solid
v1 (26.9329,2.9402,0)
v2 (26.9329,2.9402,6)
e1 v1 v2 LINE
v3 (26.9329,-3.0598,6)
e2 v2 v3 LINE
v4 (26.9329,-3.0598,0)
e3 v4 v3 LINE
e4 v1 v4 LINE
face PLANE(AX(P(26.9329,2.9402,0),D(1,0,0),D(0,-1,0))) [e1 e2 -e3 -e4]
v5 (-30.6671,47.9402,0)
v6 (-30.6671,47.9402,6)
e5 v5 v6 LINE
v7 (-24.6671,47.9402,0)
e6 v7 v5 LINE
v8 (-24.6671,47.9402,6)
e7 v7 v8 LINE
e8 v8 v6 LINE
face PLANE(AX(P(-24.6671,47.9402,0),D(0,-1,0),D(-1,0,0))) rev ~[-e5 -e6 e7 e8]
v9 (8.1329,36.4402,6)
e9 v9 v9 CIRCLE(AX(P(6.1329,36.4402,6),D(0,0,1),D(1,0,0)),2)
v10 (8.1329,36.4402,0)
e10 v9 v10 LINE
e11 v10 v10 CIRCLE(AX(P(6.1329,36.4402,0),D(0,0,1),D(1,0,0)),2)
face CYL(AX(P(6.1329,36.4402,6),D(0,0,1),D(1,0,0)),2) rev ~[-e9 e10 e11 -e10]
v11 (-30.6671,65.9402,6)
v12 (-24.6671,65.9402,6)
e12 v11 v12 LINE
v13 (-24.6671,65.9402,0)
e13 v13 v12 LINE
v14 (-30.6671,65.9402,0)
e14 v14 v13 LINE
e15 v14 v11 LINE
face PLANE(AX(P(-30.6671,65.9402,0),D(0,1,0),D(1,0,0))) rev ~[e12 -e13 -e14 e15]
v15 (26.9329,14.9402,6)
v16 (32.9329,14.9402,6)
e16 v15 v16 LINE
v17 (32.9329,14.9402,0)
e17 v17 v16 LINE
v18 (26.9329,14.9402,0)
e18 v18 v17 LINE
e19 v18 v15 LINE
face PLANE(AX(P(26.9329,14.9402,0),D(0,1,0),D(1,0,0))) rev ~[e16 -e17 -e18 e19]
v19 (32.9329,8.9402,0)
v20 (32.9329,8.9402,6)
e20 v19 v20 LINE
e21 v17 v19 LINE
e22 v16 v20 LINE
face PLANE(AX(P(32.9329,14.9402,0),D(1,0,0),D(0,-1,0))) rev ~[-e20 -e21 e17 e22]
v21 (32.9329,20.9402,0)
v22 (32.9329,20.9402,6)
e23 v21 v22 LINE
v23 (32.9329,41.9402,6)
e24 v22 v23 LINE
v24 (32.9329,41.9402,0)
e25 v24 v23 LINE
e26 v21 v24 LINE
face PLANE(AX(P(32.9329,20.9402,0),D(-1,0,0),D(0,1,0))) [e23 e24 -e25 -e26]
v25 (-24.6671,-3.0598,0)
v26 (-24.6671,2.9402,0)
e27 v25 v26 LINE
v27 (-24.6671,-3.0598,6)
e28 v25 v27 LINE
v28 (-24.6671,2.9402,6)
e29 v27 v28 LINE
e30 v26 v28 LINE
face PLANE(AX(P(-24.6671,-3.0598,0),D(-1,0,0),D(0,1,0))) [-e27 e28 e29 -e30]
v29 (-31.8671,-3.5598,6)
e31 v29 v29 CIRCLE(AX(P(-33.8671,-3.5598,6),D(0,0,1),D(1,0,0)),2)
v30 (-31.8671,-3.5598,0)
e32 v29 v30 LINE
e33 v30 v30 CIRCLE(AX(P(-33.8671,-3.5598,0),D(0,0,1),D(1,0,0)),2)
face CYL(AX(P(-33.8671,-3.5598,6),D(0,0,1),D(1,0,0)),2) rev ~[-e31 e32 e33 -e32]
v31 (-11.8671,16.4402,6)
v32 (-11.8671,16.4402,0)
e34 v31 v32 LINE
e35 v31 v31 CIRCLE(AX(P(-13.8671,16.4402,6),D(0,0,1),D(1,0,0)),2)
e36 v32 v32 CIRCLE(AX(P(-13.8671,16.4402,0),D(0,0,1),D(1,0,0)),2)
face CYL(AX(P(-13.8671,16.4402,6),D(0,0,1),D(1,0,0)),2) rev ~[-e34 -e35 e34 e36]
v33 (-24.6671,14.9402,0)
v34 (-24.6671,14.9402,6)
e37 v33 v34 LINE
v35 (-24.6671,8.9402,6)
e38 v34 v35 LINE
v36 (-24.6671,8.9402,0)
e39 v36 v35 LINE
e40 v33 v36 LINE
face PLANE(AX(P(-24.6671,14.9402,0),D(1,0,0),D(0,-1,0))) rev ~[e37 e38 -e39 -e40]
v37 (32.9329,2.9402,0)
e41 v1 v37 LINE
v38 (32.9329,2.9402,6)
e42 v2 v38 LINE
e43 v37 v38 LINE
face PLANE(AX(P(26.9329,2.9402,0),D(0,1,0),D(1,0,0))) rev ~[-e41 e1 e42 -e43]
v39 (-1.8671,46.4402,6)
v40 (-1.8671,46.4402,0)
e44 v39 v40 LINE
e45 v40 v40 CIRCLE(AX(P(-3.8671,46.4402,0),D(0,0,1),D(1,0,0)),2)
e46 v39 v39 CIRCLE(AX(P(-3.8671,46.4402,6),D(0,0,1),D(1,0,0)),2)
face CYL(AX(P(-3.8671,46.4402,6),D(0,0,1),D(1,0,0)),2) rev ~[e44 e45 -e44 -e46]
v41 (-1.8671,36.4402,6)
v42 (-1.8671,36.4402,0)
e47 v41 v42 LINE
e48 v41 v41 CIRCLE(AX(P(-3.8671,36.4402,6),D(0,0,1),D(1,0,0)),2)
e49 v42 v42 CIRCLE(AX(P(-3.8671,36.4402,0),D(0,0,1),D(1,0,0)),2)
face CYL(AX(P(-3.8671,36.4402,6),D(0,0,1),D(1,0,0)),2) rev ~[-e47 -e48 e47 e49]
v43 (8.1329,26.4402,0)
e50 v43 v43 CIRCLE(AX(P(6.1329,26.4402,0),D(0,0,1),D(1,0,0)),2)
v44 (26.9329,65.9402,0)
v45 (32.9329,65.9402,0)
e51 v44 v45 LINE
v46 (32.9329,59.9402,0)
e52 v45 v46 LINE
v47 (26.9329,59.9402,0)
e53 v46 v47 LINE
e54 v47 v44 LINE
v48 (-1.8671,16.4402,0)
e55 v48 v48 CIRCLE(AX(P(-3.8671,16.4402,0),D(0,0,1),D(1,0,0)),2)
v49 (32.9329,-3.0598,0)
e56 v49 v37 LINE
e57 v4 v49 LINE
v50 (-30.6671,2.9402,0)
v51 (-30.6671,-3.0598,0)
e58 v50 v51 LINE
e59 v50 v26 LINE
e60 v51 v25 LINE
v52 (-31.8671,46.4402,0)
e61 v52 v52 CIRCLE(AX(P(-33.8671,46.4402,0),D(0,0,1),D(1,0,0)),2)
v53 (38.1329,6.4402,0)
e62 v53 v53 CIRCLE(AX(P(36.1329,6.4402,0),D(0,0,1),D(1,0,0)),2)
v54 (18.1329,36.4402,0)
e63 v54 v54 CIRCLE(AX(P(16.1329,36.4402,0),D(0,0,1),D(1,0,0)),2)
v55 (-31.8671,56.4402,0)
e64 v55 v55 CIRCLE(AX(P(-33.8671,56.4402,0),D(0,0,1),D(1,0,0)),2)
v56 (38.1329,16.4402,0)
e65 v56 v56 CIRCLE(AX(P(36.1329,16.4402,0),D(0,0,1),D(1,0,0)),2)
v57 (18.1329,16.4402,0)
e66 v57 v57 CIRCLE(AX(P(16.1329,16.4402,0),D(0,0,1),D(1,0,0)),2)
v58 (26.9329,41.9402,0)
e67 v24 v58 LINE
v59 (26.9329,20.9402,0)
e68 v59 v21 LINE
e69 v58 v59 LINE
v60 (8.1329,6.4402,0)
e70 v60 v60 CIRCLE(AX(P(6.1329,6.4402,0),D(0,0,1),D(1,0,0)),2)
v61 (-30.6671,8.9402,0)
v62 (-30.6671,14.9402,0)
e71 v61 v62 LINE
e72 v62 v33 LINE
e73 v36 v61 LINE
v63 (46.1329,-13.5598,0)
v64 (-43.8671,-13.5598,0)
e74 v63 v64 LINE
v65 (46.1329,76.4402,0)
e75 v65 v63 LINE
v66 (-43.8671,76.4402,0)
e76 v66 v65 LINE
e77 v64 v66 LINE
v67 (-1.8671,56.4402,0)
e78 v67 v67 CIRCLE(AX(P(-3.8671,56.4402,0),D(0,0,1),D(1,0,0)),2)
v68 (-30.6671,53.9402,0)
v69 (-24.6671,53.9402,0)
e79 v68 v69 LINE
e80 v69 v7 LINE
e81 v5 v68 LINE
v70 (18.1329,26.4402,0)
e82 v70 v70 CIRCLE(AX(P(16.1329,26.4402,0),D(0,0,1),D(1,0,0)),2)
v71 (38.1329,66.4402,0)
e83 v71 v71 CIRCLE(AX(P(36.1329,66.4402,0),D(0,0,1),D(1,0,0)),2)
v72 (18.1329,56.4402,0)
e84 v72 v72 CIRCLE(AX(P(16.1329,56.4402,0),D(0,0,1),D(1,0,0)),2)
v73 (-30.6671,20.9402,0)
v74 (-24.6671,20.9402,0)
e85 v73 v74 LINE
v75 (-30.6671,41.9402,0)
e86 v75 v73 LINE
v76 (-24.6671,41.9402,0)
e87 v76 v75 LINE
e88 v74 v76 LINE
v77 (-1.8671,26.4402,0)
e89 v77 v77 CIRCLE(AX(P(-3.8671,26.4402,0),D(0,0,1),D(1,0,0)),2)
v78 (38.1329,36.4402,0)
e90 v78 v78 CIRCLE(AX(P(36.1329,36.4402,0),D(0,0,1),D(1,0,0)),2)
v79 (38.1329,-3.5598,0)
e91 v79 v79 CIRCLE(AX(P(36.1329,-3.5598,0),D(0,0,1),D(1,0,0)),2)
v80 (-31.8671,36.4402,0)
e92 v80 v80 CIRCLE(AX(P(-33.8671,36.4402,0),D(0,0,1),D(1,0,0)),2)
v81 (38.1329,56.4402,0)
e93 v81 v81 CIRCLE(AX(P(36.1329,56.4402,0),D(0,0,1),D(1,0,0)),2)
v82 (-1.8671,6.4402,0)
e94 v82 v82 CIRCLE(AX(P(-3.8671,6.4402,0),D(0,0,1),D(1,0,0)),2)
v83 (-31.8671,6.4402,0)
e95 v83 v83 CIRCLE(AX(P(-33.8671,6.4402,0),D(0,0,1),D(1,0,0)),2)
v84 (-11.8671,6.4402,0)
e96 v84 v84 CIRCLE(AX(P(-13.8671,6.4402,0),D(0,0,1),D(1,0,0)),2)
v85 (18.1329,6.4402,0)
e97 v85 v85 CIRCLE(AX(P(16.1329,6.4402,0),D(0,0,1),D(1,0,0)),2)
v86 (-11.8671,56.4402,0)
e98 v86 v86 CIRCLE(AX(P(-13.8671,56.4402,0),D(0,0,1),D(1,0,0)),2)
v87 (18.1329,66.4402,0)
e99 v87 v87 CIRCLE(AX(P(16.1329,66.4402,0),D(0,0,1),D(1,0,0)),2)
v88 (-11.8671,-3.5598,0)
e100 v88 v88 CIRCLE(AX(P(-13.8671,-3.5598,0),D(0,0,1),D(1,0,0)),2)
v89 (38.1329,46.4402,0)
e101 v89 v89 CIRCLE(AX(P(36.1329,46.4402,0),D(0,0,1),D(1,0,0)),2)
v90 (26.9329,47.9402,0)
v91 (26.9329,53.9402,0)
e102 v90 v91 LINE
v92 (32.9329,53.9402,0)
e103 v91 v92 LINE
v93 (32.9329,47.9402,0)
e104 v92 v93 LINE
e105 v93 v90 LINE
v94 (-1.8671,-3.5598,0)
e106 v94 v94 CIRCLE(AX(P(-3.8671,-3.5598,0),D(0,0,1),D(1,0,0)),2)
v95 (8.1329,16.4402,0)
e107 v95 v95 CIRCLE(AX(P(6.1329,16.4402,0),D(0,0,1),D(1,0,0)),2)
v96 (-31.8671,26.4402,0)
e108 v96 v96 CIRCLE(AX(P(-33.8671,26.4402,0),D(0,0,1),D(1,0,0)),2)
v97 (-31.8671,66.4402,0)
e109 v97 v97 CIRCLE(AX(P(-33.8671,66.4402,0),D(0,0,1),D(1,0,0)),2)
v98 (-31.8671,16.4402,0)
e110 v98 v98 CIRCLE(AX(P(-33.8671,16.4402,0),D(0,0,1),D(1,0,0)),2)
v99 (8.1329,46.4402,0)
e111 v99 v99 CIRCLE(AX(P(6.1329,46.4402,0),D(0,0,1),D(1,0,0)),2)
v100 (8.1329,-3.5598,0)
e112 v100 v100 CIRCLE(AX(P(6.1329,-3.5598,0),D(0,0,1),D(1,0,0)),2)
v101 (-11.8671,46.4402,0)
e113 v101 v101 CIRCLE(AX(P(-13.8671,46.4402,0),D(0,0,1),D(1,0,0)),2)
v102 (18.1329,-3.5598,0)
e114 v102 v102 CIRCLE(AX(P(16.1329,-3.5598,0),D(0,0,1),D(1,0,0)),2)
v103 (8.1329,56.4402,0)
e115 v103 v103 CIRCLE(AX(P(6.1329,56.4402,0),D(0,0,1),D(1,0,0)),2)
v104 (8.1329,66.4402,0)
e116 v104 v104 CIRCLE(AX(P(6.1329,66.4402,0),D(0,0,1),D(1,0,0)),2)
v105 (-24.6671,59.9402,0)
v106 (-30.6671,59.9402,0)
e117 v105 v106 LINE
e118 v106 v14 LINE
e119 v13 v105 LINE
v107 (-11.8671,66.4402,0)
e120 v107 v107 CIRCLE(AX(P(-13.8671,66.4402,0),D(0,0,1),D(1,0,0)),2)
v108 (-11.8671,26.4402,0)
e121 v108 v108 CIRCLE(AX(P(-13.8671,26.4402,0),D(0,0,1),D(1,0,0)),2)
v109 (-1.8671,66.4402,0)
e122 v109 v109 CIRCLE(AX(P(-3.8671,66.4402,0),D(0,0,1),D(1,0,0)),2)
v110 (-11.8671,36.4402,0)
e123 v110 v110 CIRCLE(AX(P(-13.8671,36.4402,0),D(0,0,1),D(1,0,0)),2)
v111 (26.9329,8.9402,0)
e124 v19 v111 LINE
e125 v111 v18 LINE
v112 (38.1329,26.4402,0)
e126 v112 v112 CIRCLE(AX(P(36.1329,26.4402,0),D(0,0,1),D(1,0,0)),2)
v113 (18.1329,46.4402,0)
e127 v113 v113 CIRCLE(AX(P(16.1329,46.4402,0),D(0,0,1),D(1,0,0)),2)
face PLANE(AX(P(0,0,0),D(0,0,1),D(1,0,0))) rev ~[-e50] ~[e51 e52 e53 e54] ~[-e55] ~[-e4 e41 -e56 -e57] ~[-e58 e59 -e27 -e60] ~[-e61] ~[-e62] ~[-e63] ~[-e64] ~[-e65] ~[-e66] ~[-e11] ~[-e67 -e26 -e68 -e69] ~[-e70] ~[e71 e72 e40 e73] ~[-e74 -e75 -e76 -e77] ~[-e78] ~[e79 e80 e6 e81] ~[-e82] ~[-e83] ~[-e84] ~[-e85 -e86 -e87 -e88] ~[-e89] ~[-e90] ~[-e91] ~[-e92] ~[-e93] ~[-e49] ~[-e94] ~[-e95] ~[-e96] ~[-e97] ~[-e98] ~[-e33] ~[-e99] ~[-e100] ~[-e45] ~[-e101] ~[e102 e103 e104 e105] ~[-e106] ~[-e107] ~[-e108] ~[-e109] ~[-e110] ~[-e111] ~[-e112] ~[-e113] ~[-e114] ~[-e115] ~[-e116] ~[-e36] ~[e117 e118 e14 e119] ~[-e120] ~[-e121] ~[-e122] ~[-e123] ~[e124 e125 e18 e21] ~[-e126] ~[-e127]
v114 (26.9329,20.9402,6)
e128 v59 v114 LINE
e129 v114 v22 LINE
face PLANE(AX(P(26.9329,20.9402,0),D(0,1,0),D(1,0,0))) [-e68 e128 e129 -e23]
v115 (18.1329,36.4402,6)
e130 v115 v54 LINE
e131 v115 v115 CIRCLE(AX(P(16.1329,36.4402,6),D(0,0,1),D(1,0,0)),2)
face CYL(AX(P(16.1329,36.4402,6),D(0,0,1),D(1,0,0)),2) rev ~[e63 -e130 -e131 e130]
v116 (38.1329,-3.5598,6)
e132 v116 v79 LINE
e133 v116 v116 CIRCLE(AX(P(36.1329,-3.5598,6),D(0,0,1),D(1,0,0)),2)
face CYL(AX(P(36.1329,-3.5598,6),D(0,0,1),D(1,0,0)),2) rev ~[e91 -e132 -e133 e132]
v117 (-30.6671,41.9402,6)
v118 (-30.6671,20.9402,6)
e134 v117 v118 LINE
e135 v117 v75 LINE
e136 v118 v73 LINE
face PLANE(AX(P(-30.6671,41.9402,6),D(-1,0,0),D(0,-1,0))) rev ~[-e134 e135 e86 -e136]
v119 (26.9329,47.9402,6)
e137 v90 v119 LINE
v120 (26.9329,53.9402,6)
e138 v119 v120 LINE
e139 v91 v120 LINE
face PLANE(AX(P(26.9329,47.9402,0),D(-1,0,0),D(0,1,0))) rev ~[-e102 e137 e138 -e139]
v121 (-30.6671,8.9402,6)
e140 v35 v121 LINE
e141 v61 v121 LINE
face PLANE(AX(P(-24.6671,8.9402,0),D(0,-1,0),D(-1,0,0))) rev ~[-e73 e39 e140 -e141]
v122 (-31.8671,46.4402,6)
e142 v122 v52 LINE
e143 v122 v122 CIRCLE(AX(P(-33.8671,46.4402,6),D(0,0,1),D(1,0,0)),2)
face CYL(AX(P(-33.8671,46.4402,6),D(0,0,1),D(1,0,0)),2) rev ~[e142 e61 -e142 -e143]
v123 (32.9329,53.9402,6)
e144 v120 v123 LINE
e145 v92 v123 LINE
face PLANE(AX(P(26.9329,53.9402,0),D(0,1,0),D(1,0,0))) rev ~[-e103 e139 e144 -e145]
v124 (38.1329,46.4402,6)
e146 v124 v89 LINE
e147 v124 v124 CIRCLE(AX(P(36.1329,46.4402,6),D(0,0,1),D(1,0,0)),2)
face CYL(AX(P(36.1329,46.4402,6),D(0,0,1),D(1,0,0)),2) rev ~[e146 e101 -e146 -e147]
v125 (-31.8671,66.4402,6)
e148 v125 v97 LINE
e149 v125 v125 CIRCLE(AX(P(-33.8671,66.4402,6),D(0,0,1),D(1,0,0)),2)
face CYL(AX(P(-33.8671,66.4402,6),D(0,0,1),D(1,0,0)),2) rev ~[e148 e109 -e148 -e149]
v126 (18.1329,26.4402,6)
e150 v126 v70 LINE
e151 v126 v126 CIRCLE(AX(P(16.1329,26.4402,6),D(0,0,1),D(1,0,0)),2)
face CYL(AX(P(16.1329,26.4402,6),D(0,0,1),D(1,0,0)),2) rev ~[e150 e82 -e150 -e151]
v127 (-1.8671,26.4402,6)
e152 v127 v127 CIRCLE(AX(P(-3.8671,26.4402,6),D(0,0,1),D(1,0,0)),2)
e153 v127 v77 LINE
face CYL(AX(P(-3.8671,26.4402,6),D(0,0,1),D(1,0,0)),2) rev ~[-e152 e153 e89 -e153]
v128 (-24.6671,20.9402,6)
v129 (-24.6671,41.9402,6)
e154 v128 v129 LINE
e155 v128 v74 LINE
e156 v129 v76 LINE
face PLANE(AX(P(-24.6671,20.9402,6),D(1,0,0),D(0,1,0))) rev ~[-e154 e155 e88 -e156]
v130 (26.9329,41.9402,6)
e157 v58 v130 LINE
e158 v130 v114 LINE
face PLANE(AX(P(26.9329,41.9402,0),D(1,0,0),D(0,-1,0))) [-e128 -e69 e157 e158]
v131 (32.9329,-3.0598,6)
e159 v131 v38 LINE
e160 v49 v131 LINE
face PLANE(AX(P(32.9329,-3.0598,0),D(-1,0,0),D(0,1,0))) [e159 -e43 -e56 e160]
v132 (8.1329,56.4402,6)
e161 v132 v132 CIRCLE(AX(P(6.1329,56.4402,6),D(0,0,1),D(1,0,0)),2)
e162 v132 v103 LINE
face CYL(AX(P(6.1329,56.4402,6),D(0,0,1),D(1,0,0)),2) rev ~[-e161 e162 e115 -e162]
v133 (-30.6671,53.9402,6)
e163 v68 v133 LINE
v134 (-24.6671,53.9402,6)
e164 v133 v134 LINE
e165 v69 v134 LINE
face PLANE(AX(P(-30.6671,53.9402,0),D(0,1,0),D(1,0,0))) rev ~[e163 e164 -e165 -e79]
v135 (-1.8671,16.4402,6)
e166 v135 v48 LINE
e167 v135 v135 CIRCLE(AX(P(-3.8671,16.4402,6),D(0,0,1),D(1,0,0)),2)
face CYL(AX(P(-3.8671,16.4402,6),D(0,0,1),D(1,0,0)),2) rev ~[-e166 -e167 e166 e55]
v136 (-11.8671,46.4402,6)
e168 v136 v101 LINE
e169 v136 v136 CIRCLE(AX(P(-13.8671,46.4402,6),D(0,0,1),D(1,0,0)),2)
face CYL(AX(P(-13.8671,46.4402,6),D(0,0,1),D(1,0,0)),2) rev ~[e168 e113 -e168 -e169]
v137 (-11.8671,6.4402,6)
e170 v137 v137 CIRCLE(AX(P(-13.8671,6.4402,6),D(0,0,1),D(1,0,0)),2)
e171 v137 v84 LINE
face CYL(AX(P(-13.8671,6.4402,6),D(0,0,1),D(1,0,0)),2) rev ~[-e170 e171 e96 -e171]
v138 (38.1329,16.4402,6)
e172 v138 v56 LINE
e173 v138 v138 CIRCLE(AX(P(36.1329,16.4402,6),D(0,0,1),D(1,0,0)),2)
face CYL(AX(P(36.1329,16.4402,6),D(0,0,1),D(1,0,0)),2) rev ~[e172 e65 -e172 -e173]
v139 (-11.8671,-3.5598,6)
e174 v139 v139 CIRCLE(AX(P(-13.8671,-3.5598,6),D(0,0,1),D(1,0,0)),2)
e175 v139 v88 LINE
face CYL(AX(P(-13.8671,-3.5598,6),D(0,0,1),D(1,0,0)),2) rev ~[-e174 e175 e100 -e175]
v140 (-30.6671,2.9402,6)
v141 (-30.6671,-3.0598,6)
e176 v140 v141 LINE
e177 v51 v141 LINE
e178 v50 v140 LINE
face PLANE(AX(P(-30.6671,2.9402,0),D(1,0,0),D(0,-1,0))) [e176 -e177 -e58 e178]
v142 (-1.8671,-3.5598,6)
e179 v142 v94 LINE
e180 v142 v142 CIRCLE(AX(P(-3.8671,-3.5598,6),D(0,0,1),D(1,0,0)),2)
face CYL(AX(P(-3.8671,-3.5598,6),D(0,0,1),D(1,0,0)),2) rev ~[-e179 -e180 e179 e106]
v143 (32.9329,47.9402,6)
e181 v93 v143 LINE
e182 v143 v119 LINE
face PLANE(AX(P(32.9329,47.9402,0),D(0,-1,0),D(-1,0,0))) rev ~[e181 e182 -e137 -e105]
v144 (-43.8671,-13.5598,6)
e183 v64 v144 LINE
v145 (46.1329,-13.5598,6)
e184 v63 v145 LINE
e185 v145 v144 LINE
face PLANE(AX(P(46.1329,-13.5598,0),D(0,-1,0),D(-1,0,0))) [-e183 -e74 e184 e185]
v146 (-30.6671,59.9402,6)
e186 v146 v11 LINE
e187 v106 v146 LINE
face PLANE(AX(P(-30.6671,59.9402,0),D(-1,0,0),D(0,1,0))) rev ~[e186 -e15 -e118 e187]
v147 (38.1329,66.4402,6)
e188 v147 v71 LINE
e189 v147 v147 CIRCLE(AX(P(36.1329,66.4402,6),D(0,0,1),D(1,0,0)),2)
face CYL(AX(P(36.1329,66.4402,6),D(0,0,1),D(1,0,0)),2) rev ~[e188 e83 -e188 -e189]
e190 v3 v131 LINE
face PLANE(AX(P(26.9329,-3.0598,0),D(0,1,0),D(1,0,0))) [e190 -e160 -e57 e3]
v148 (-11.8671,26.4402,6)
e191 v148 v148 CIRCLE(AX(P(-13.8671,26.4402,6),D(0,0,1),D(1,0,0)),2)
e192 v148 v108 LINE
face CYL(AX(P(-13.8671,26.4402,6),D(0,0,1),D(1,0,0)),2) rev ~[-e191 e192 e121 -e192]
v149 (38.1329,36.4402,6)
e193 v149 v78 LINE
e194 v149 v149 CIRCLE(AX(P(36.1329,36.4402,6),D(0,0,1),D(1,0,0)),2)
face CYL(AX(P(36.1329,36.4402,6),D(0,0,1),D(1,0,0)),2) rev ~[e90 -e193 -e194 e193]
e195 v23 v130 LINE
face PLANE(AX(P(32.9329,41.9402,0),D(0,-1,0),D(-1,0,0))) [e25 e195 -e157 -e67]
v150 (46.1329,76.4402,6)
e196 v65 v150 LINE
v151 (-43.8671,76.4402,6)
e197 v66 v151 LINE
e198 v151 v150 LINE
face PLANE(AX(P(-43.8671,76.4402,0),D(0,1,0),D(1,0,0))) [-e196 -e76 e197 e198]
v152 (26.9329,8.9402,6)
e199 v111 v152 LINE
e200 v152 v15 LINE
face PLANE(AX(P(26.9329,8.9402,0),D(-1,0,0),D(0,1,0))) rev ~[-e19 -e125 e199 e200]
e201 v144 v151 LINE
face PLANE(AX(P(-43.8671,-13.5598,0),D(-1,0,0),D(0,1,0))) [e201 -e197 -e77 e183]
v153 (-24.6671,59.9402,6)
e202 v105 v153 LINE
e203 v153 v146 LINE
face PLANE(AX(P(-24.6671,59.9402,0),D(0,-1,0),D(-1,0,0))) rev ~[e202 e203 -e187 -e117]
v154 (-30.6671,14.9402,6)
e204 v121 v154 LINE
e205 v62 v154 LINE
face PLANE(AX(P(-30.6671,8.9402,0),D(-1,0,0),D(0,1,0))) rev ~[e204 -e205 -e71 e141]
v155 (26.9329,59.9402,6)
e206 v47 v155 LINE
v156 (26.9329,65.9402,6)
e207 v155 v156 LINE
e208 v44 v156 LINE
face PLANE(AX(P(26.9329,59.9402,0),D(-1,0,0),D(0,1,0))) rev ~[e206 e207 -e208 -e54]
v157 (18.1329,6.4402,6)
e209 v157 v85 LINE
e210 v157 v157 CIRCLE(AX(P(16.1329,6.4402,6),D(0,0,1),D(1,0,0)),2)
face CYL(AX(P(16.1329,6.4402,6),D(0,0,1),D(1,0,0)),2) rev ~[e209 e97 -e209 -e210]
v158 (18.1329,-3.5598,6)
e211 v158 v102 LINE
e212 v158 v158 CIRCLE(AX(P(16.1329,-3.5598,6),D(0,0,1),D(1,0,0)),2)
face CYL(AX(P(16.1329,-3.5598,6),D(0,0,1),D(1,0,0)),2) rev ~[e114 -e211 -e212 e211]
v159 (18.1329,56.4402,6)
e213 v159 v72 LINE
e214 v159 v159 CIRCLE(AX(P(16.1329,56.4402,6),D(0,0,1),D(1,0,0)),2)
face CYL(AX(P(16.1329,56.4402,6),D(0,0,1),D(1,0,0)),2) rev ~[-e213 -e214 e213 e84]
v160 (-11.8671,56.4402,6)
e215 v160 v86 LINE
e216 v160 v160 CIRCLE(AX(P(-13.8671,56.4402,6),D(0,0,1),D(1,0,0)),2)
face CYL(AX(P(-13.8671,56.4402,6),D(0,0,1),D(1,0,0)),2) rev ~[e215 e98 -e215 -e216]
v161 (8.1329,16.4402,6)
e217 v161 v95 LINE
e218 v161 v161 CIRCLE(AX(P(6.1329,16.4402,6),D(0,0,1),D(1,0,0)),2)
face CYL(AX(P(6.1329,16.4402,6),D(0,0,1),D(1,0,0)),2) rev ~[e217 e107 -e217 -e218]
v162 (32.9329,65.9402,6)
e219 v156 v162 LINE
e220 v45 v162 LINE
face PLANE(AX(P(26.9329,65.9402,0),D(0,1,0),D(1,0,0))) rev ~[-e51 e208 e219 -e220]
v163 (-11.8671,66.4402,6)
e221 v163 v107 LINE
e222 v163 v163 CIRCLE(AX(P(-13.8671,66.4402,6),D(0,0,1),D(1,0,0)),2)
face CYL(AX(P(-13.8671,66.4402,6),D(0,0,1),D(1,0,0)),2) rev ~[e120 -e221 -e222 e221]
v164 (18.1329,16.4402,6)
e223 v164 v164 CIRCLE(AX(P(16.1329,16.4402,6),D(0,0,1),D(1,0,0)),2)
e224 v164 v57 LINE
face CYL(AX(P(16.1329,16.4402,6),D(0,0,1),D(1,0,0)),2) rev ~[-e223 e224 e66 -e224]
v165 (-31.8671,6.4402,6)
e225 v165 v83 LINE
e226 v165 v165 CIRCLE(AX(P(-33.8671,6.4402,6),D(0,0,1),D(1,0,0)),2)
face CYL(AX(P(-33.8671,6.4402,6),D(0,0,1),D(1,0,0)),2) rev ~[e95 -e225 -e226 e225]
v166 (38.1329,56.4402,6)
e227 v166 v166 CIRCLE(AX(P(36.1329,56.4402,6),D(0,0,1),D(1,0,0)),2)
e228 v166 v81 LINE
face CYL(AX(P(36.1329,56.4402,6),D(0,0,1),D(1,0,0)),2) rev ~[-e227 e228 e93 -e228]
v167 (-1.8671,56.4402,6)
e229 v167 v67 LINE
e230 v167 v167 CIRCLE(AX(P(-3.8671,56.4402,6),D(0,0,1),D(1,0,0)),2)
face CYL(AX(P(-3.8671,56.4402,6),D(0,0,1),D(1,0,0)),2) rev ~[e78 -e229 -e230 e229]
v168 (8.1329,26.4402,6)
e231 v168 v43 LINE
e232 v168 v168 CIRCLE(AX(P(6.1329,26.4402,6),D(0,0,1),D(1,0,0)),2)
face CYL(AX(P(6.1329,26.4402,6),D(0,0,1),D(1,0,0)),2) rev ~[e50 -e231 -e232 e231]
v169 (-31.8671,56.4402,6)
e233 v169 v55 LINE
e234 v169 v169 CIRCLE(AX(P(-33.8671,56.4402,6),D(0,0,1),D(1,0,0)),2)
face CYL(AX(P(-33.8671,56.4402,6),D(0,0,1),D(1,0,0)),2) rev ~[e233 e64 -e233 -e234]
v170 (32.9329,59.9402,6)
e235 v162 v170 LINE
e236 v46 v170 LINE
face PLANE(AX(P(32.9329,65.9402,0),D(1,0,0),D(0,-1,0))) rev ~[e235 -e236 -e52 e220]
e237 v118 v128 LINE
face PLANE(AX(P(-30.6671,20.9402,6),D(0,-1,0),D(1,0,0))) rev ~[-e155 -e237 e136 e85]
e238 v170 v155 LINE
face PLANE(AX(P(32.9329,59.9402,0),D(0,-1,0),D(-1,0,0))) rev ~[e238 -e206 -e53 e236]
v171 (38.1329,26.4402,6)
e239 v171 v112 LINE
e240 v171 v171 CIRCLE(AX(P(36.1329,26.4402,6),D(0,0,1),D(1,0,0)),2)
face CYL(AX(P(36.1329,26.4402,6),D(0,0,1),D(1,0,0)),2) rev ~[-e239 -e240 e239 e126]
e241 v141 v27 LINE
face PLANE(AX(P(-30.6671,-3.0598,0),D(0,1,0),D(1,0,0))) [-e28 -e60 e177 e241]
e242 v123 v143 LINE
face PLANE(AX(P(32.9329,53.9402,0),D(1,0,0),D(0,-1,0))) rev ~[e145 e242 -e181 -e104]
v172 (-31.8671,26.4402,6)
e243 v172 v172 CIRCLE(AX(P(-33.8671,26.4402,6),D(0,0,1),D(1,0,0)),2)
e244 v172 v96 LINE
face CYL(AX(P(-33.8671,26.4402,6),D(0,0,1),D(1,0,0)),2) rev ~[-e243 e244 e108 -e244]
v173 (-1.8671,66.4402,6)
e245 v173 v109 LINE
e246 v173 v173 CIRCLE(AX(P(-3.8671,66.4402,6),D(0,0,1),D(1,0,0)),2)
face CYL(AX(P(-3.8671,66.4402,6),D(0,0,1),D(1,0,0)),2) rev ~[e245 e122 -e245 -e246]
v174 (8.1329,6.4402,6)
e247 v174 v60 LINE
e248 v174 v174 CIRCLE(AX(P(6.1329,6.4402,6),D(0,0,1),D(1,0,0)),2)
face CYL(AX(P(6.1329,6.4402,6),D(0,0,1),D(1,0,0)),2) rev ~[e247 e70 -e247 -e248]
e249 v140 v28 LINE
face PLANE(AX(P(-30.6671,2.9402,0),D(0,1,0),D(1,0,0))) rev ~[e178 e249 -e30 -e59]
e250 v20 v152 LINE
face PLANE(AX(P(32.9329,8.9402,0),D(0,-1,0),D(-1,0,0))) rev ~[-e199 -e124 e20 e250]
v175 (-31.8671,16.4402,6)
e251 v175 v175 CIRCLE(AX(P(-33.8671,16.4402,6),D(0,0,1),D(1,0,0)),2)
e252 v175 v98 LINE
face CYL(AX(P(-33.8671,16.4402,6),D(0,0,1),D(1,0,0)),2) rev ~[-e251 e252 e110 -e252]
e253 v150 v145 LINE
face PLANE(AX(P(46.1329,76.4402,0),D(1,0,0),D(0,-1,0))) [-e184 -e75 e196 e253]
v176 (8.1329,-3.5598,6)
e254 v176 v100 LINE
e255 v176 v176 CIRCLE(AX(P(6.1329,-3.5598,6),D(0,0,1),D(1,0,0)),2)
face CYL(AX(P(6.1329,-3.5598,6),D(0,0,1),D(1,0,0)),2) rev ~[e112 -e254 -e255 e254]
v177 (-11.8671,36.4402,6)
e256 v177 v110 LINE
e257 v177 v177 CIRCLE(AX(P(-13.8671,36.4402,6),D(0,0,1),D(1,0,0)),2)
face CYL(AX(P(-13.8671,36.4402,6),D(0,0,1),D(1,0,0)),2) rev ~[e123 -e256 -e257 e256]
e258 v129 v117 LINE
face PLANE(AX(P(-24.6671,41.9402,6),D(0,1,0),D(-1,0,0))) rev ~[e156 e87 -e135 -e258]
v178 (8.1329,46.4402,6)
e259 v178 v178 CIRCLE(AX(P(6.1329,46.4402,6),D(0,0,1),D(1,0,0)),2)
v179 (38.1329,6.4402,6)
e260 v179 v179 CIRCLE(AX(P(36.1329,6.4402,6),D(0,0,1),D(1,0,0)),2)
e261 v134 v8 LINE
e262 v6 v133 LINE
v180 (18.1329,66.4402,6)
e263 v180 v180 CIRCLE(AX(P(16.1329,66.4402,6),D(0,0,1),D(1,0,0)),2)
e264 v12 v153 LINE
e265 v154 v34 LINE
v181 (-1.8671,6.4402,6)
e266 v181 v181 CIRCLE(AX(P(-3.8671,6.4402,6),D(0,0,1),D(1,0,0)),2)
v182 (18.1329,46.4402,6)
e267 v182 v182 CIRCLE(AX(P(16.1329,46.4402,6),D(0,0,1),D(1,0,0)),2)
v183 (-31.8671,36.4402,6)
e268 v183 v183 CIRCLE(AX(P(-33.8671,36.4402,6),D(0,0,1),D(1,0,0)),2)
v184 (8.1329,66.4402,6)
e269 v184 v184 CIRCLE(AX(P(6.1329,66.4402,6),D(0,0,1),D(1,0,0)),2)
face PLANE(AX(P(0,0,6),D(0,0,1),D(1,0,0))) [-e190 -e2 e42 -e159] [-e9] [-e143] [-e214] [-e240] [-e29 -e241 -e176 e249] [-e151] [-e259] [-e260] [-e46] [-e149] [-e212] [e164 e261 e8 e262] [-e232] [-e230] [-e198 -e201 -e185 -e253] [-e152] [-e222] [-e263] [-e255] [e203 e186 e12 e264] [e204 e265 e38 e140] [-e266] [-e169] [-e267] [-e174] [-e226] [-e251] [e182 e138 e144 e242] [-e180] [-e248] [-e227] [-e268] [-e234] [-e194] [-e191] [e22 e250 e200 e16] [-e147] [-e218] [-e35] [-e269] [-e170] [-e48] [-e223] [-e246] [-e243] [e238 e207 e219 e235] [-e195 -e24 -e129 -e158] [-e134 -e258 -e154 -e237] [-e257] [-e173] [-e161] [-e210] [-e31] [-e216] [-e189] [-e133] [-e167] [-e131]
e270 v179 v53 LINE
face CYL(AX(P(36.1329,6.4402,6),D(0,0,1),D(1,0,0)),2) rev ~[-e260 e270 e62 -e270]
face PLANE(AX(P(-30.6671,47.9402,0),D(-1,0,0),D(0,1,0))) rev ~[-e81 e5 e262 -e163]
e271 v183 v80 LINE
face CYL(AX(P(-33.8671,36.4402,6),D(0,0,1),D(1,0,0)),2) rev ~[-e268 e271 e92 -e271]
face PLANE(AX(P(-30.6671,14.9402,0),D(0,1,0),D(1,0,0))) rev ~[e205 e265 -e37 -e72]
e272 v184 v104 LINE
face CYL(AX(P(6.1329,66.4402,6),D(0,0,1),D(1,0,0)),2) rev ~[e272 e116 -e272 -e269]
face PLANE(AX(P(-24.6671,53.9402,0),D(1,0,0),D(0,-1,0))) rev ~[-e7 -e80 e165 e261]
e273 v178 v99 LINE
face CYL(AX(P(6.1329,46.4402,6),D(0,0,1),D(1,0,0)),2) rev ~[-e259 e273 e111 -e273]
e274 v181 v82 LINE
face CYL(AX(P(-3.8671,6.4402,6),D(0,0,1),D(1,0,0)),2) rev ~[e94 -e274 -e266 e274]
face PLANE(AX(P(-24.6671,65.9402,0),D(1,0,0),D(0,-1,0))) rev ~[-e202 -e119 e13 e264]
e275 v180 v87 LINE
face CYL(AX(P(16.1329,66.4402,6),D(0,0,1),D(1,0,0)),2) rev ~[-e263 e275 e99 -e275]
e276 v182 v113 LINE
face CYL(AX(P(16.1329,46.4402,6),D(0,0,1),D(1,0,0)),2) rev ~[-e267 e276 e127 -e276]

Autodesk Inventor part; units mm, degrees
ref_plane "YZ Plane" through (0, 0, 0) normal (1, 0, 0) x (0, 1, 0)
ref_plane "XZ Plane" through (0, 0, 0) normal (0, 1, 0) x (-1, 0, 0)
ref_plane "XY Plane" through (0, 0, 0) normal (0, 0, 1) x (1, 0, 0)
sketch "Sketch1" plane through (0, 0, 0) normal (0, 0, 1) x (1, 0, 0)
  line L0 (-43.8671, 76.4402) -> (46.1329, 76.4402)
  line L1 (46.1329, 76.4402) -> (46.1329, -13.5598)
  line L2 (46.1329, -13.5598) -> (-43.8671, -13.5598)
  line L3 (-43.8671, -13.5598) -> (-43.8671, 76.4402)
  point P0 (0, 0)
  dimension "d0" = 90
  dimension "d1" = 90
extrude "Extrusion1" add sketch "Sketch1" along normal blind 6
sketch "Sketch2" plane through (0, 0, 0) normal (0, 0, -1) x (-1, 0, 0)
  line L0 (24.6671, 8.9402) -> (30.6671, 8.9402) projected
  line L1 (30.6671, 8.9402) -> (30.6671, 2.9402) projected
  line L2 (30.6671, 2.9402) -> (24.6671, 2.9402) projected
  line L3 (24.6671, 8.9402) -> (24.6671, 2.9402) projected
  line L4 (30.6671, 14.9402) -> (24.6671, 14.9402) projected
  line L5 (24.6671, 20.9402) -> (24.6671, 14.9402) projected
  line L6 (30.6671, 20.9402) -> (24.6671, 20.9402) projected
  line L7 (30.6671, 20.9402) -> (30.6671, 14.9402) projected
  line L8 (24.6671, 47.9402) -> (30.6671, 47.9402) projected
  line L9 (30.6671, 41.9402) -> (30.6671, 47.9402) projected
  line L10 (24.6671, 41.9402) -> (30.6671, 41.9402) projected
  line L11 (24.6671, 41.9402) -> (24.6671, 47.9402) projected
  line L12 (24.6671, 59.9402) -> (30.6671, 59.9402) projected
  line L13 (30.6671, 53.9402) -> (30.6671, 59.9402) projected
  line L14 (30.6671, 53.9402) -> (24.6671, 53.9402) projected
  line L15 (24.6671, 53.9402) -> (24.6671, 59.9402) projected
  line L16 (-32.9329, 47.9402) -> (-26.9329, 47.9402) projected
  line L17 (-26.9329, 41.9402) -> (-26.9329, 47.9402) projected
  line L18 (-32.9329, 41.9402) -> (-26.9329, 41.9402) projected
  line L19 (-32.9329, 41.9402) -> (-32.9329, 47.9402) projected
  line L20 (-32.9329, 59.9402) -> (-26.9329, 59.9402) projected
  line L21 (-26.9329, 53.9402) -> (-26.9329, 59.9402) projected
  line L22 (-26.9329, 53.9402) -> (-32.9329, 53.9402) projected
  line L23 (-32.9329, 53.9402) -> (-32.9329, 59.9402) projected
  line L24 (-26.9329, 14.9402) -> (-32.9329, 14.9402) projected
  line L25 (-32.9329, 20.9402) -> (-32.9329, 14.9402) projected
  line L26 (-26.9329, 20.9402) -> (-32.9329, 20.9402) projected
  line L27 (-26.9329, 20.9402) -> (-26.9329, 14.9402) projected
  line L28 (-32.9329, 8.9402) -> (-26.9329, 8.9402) projected
  line L29 (-26.9329, 8.9402) -> (-26.9329, 2.9402) projected
  line L30 (-26.9329, 2.9402) -> (-32.9329, 2.9402) projected
  line L31 (-32.9329, 8.9402) -> (-32.9329, 2.9402) projected
  line L32 (-32.9329, 8.9402) -> (-26.9329, 8.9402)
  line L33 (-26.9329, 8.9402) -> (-26.9329, 14.9402)
  line L34 (-26.9329, 14.9402) -> (-32.9329, 14.9402)
  line L35 (-32.9329, 14.9402) -> (-32.9329, 8.9402)
  line L36 (-32.9329, 2.9402) -> (-26.9329, 2.9402)
  line L37 (-26.9329, 2.9402) -> (-26.9329, -3.0598)
  line L38 (-26.9329, -3.0598) -> (-32.9329, -3.0598)
  line L39 (-32.9329, -3.0598) -> (-32.9329, 2.9402)
  line L40 (-32.9329, 47.9402) -> (-26.9329, 47.9402)
  line L41 (-26.9329, 47.9402) -> (-26.9329, 53.9402)
  line L42 (-26.9329, 53.9402) -> (-32.9329, 53.9402)
  line L43 (-32.9329, 53.9402) -> (-32.9329, 47.9402)
  line L44 (-32.9329, 59.9402) -> (-26.9329, 59.9402)
  line L45 (-26.9329, 59.9402) -> (-26.9329, 65.9402)
  line L46 (-26.9329, 65.9402) -> (-32.9329, 65.9402)
  line L47 (-32.9329, 65.9402) -> (-32.9329, 59.9402)
  line L48 (24.6671, 47.9402) -> (30.6671, 47.9402)
  line L49 (30.6671, 47.9402) -> (30.6671, 53.9402)
  line L50 (30.6671, 53.9402) -> (24.6671, 53.9402)
  line L51 (24.6671, 53.9402) -> (24.6671, 47.9402)
  line L52 (24.6671, 59.9402) -> (30.6671, 59.9402)
  line L53 (30.6671, 59.9402) -> (30.6671, 65.9402)
  line L54 (30.6671, 65.9402) -> (24.6671, 65.9402)
  line L55 (24.6671, 65.9402) -> (24.6671, 59.9402)
  line L56 (24.6671, 8.9402) -> (30.6671, 8.9402)
  line L57 (30.6671, 8.9402) -> (30.6671, 14.9402)
  line L58 (30.6671, 14.9402) -> (24.6671, 14.9402)
  line L59 (24.6671, 14.9402) -> (24.6671, 8.9402)
  line L60 (24.6671, 2.9402) -> (30.6671, 2.9402)
  line L61 (30.6671, 2.9402) -> (30.6671, -3.0598)
  line L62 (30.6671, -3.0598) -> (24.6671, -3.0598)
  line L63 (24.6671, -3.0598) -> (24.6671, 2.9402)
  point P0 (0, 0)
  dimension "d4" = 6
  dimension "d5" = 6
  dimension "d6" = 6
  dimension "d7" = 6
  dimension "d8" = 6
  dimension "d9" = 6
  dimension "d10" = 6
  dimension "d11" = 6
  dimension "d12" = 6
  dimension "d13" = 6
extrude "Extrusion2" cut sketch "Sketch2" against normal blind 6 contours L59 L4 L57 L0 | L2 L61 L62 L63 | L51 L14 L49 L8 | L55 L54 L53 L12 | L43 L22 L41 L16 | L47 L46 L45 L20 | L33 L28 L35 L24 | L37 L38 L39 L30
sketch "Sketch3" plane through (0, 0, 6) normal (0, 0, 1) x (1, 0, 0)
  circle A0 centre (-33.8671, -3.5598) radius 2
  line L0 (-43.8671, 76.4402) -> (-43.8671, -13.5598) projected
  line L1 (-43.8671, -13.5598) -> (46.1329, -13.5598) projected
  circle A1 centre (-33.8671, 6.4402) radius 2
  circle A2 centre (-33.8671, 16.4402) radius 2
  circle A3 centre (-33.8671, 26.4402) radius 2
  circle A4 centre (-33.8671, 36.4402) radius 2
  circle A5 centre (-33.8671, 46.4402) radius 2
  circle A6 centre (-33.8671, 56.4402) radius 2
  circle A7 centre (-33.8671, 66.4402) radius 2
  circle A8 centre (-23.8671, -3.5598) radius 2
  circle A9 centre (-23.8671, 6.4402) radius 2
  circle A10 centre (-23.8671, 16.4402) radius 2
  circle A11 centre (-23.8671, 26.4402) radius 2
  circle A12 centre (-23.8671, 36.4402) radius 2
  circle A13 centre (-23.8671, 46.4402) radius 2
  circle A14 centre (-23.8671, 56.4402) radius 2
  circle A15 centre (-23.8671, 66.4402) radius 2
  circle A16 centre (-13.8671, -3.5598) radius 2
  circle A17 centre (-13.8671, 6.4402) radius 2
  circle A18 centre (-13.8671, 16.4402) radius 2
  circle A19 centre (-13.8671, 26.4402) radius 2
  circle A20 centre (-13.8671, 36.4402) radius 2
  circle A21 centre (-13.8671, 46.4402) radius 2
  circle A22 centre (-13.8671, 56.4402) radius 2
  circle A23 centre (-13.8671, 66.4402) radius 2
  circle A24 centre (-3.8671, -3.5598) radius 2
  circle A25 centre (-3.8671, 6.4402) radius 2
  circle A26 centre (-3.8671, 16.4402) radius 2
  circle A27 centre (-3.8671, 26.4402) radius 2
  circle A28 centre (-3.8671, 36.4402) radius 2
  circle A29 centre (-3.8671, 46.4402) radius 2
  circle A30 centre (-3.8671, 56.4402) radius 2
  circle A31 centre (-3.8671, 66.4402) radius 2
  circle A32 centre (6.1329, -3.5598) radius 2
  circle A33 centre (6.1329, 6.4402) radius 2
  circle A34 centre (6.1329, 16.4402) radius 2
  circle A35 centre (6.1329, 26.4402) radius 2
  circle A36 centre (6.1329, 36.4402) radius 2
  circle A37 centre (6.1329, 46.4402) radius 2
  circle A38 centre (6.1329, 56.4402) radius 2
  circle A39 centre (6.1329, 66.4402) radius 2
  circle A40 centre (16.1329, -3.5598) radius 2
  circle A41 centre (16.1329, 6.4402) radius 2
  circle A42 centre (16.1329, 16.4402) radius 2
  circle A43 centre (16.1329, 26.4402) radius 2
  circle A44 centre (16.1329, 36.4402) radius 2
  circle A45 centre (16.1329, 46.4402) radius 2
  circle A46 centre (16.1329, 56.4402) radius 2
  circle A47 centre (16.1329, 66.4402) radius 2
  circle A48 centre (26.1329, -3.5598) radius 2
  circle A49 centre (26.1329, 6.4402) radius 2
  circle A50 centre (26.1329, 16.4402) radius 2
  circle A51 centre (26.1329, 26.4402) radius 2
  circle A52 centre (26.1329, 36.4402) radius 2
  circle A53 centre (26.1329, 46.4402) radius 2
  circle A54 centre (26.1329, 56.4402) radius 2
  circle A55 centre (26.1329, 66.4402) radius 2
  circle A56 centre (36.1329, -3.5598) radius 2
  circle A57 centre (36.1329, 6.4402) radius 2
  circle A58 centre (36.1329, 16.4402) radius 2
  circle A59 centre (36.1329, 26.4402) radius 2
  circle A60 centre (36.1329, 36.4402) radius 2
  circle A61 centre (36.1329, 46.4402) radius 2
  circle A62 centre (36.1329, 56.4402) radius 2
  circle A63 centre (36.1329, 66.4402) radius 2
  point P0 (0, 0)
  dimension "d16" = 4
  dimension "d18" = 10
  dimension "d21" = 10
  dimension "d24" = 10
  dimension "d27" = 10
extrude "Extrusion3" cut sketch "Sketch3" against normal blind 6 contours A0 | A1 | A2 | A3 | A4 | A5 | A6 | A7 | A16 | A17 | A18 | A19 | A20 | A21 | A22 | A23 | A24 | A25 | A26 | A27 | A28 | A29 | A30 | A31 | A32 | A33 | A34 | A35 | A36 | A37 | A38 | A39 | A40 | A41 | A42 | A43 | A44 | A45 | A46 | A47 | A56 | A57 | A58 | A59 | A60 | A61 | A62 | A63
sketch "Sketch4" plane through (0, 0, 0) normal (0, 0, -1) x (-1, 0, 0)
  line L0 (-32.9329, 20.9402) -> (-32.9329, 41.9402) projected
  line L1 (-32.9329, 20.9402) -> (-32.9329, 41.9402) projected
  line L2 (-32.9329, 41.9402) -> (-26.9329, 41.9402) projected
  line L3 (-32.9329, 41.9402) -> (-26.9329, 41.9402) projected
  line L4 (-32.9329, 41.9402) -> (-26.9329, 41.9402) projected
  line L5 (-32.9329, 20.9402) -> (-32.9329, 41.9402) projected
  line L6 (-26.9329, 41.9402) -> (-26.9329, 20.9402) projected
  line L7 (-26.9329, 20.9402) -> (-32.9329, 20.9402) projected
  point P0 (0, 0)
extrude "Extrusion4" cut sketch "Sketch4" against normal blind 6
sketch "Sketch5" plane through (0, 0, 6) normal (0, 0, 1) x (1, 0, 0)
  line L0 (-30.6671, 41.9402) -> (-30.6671, 20.9402) projected
  line L1 (-30.6671, 20.9402) -> (-24.6671, 20.9402) projected
  line L2 (-24.6671, 20.9402) -> (-24.6671, 41.9402) projected
  line L3 (-24.6671, 41.9402) -> (-30.6671, 41.9402) projected
  point P0 (0, 0)
extrude "Extrusion5" cut sketch "Sketch5" against normal blind 6
properties part number "FootScrewplate"
